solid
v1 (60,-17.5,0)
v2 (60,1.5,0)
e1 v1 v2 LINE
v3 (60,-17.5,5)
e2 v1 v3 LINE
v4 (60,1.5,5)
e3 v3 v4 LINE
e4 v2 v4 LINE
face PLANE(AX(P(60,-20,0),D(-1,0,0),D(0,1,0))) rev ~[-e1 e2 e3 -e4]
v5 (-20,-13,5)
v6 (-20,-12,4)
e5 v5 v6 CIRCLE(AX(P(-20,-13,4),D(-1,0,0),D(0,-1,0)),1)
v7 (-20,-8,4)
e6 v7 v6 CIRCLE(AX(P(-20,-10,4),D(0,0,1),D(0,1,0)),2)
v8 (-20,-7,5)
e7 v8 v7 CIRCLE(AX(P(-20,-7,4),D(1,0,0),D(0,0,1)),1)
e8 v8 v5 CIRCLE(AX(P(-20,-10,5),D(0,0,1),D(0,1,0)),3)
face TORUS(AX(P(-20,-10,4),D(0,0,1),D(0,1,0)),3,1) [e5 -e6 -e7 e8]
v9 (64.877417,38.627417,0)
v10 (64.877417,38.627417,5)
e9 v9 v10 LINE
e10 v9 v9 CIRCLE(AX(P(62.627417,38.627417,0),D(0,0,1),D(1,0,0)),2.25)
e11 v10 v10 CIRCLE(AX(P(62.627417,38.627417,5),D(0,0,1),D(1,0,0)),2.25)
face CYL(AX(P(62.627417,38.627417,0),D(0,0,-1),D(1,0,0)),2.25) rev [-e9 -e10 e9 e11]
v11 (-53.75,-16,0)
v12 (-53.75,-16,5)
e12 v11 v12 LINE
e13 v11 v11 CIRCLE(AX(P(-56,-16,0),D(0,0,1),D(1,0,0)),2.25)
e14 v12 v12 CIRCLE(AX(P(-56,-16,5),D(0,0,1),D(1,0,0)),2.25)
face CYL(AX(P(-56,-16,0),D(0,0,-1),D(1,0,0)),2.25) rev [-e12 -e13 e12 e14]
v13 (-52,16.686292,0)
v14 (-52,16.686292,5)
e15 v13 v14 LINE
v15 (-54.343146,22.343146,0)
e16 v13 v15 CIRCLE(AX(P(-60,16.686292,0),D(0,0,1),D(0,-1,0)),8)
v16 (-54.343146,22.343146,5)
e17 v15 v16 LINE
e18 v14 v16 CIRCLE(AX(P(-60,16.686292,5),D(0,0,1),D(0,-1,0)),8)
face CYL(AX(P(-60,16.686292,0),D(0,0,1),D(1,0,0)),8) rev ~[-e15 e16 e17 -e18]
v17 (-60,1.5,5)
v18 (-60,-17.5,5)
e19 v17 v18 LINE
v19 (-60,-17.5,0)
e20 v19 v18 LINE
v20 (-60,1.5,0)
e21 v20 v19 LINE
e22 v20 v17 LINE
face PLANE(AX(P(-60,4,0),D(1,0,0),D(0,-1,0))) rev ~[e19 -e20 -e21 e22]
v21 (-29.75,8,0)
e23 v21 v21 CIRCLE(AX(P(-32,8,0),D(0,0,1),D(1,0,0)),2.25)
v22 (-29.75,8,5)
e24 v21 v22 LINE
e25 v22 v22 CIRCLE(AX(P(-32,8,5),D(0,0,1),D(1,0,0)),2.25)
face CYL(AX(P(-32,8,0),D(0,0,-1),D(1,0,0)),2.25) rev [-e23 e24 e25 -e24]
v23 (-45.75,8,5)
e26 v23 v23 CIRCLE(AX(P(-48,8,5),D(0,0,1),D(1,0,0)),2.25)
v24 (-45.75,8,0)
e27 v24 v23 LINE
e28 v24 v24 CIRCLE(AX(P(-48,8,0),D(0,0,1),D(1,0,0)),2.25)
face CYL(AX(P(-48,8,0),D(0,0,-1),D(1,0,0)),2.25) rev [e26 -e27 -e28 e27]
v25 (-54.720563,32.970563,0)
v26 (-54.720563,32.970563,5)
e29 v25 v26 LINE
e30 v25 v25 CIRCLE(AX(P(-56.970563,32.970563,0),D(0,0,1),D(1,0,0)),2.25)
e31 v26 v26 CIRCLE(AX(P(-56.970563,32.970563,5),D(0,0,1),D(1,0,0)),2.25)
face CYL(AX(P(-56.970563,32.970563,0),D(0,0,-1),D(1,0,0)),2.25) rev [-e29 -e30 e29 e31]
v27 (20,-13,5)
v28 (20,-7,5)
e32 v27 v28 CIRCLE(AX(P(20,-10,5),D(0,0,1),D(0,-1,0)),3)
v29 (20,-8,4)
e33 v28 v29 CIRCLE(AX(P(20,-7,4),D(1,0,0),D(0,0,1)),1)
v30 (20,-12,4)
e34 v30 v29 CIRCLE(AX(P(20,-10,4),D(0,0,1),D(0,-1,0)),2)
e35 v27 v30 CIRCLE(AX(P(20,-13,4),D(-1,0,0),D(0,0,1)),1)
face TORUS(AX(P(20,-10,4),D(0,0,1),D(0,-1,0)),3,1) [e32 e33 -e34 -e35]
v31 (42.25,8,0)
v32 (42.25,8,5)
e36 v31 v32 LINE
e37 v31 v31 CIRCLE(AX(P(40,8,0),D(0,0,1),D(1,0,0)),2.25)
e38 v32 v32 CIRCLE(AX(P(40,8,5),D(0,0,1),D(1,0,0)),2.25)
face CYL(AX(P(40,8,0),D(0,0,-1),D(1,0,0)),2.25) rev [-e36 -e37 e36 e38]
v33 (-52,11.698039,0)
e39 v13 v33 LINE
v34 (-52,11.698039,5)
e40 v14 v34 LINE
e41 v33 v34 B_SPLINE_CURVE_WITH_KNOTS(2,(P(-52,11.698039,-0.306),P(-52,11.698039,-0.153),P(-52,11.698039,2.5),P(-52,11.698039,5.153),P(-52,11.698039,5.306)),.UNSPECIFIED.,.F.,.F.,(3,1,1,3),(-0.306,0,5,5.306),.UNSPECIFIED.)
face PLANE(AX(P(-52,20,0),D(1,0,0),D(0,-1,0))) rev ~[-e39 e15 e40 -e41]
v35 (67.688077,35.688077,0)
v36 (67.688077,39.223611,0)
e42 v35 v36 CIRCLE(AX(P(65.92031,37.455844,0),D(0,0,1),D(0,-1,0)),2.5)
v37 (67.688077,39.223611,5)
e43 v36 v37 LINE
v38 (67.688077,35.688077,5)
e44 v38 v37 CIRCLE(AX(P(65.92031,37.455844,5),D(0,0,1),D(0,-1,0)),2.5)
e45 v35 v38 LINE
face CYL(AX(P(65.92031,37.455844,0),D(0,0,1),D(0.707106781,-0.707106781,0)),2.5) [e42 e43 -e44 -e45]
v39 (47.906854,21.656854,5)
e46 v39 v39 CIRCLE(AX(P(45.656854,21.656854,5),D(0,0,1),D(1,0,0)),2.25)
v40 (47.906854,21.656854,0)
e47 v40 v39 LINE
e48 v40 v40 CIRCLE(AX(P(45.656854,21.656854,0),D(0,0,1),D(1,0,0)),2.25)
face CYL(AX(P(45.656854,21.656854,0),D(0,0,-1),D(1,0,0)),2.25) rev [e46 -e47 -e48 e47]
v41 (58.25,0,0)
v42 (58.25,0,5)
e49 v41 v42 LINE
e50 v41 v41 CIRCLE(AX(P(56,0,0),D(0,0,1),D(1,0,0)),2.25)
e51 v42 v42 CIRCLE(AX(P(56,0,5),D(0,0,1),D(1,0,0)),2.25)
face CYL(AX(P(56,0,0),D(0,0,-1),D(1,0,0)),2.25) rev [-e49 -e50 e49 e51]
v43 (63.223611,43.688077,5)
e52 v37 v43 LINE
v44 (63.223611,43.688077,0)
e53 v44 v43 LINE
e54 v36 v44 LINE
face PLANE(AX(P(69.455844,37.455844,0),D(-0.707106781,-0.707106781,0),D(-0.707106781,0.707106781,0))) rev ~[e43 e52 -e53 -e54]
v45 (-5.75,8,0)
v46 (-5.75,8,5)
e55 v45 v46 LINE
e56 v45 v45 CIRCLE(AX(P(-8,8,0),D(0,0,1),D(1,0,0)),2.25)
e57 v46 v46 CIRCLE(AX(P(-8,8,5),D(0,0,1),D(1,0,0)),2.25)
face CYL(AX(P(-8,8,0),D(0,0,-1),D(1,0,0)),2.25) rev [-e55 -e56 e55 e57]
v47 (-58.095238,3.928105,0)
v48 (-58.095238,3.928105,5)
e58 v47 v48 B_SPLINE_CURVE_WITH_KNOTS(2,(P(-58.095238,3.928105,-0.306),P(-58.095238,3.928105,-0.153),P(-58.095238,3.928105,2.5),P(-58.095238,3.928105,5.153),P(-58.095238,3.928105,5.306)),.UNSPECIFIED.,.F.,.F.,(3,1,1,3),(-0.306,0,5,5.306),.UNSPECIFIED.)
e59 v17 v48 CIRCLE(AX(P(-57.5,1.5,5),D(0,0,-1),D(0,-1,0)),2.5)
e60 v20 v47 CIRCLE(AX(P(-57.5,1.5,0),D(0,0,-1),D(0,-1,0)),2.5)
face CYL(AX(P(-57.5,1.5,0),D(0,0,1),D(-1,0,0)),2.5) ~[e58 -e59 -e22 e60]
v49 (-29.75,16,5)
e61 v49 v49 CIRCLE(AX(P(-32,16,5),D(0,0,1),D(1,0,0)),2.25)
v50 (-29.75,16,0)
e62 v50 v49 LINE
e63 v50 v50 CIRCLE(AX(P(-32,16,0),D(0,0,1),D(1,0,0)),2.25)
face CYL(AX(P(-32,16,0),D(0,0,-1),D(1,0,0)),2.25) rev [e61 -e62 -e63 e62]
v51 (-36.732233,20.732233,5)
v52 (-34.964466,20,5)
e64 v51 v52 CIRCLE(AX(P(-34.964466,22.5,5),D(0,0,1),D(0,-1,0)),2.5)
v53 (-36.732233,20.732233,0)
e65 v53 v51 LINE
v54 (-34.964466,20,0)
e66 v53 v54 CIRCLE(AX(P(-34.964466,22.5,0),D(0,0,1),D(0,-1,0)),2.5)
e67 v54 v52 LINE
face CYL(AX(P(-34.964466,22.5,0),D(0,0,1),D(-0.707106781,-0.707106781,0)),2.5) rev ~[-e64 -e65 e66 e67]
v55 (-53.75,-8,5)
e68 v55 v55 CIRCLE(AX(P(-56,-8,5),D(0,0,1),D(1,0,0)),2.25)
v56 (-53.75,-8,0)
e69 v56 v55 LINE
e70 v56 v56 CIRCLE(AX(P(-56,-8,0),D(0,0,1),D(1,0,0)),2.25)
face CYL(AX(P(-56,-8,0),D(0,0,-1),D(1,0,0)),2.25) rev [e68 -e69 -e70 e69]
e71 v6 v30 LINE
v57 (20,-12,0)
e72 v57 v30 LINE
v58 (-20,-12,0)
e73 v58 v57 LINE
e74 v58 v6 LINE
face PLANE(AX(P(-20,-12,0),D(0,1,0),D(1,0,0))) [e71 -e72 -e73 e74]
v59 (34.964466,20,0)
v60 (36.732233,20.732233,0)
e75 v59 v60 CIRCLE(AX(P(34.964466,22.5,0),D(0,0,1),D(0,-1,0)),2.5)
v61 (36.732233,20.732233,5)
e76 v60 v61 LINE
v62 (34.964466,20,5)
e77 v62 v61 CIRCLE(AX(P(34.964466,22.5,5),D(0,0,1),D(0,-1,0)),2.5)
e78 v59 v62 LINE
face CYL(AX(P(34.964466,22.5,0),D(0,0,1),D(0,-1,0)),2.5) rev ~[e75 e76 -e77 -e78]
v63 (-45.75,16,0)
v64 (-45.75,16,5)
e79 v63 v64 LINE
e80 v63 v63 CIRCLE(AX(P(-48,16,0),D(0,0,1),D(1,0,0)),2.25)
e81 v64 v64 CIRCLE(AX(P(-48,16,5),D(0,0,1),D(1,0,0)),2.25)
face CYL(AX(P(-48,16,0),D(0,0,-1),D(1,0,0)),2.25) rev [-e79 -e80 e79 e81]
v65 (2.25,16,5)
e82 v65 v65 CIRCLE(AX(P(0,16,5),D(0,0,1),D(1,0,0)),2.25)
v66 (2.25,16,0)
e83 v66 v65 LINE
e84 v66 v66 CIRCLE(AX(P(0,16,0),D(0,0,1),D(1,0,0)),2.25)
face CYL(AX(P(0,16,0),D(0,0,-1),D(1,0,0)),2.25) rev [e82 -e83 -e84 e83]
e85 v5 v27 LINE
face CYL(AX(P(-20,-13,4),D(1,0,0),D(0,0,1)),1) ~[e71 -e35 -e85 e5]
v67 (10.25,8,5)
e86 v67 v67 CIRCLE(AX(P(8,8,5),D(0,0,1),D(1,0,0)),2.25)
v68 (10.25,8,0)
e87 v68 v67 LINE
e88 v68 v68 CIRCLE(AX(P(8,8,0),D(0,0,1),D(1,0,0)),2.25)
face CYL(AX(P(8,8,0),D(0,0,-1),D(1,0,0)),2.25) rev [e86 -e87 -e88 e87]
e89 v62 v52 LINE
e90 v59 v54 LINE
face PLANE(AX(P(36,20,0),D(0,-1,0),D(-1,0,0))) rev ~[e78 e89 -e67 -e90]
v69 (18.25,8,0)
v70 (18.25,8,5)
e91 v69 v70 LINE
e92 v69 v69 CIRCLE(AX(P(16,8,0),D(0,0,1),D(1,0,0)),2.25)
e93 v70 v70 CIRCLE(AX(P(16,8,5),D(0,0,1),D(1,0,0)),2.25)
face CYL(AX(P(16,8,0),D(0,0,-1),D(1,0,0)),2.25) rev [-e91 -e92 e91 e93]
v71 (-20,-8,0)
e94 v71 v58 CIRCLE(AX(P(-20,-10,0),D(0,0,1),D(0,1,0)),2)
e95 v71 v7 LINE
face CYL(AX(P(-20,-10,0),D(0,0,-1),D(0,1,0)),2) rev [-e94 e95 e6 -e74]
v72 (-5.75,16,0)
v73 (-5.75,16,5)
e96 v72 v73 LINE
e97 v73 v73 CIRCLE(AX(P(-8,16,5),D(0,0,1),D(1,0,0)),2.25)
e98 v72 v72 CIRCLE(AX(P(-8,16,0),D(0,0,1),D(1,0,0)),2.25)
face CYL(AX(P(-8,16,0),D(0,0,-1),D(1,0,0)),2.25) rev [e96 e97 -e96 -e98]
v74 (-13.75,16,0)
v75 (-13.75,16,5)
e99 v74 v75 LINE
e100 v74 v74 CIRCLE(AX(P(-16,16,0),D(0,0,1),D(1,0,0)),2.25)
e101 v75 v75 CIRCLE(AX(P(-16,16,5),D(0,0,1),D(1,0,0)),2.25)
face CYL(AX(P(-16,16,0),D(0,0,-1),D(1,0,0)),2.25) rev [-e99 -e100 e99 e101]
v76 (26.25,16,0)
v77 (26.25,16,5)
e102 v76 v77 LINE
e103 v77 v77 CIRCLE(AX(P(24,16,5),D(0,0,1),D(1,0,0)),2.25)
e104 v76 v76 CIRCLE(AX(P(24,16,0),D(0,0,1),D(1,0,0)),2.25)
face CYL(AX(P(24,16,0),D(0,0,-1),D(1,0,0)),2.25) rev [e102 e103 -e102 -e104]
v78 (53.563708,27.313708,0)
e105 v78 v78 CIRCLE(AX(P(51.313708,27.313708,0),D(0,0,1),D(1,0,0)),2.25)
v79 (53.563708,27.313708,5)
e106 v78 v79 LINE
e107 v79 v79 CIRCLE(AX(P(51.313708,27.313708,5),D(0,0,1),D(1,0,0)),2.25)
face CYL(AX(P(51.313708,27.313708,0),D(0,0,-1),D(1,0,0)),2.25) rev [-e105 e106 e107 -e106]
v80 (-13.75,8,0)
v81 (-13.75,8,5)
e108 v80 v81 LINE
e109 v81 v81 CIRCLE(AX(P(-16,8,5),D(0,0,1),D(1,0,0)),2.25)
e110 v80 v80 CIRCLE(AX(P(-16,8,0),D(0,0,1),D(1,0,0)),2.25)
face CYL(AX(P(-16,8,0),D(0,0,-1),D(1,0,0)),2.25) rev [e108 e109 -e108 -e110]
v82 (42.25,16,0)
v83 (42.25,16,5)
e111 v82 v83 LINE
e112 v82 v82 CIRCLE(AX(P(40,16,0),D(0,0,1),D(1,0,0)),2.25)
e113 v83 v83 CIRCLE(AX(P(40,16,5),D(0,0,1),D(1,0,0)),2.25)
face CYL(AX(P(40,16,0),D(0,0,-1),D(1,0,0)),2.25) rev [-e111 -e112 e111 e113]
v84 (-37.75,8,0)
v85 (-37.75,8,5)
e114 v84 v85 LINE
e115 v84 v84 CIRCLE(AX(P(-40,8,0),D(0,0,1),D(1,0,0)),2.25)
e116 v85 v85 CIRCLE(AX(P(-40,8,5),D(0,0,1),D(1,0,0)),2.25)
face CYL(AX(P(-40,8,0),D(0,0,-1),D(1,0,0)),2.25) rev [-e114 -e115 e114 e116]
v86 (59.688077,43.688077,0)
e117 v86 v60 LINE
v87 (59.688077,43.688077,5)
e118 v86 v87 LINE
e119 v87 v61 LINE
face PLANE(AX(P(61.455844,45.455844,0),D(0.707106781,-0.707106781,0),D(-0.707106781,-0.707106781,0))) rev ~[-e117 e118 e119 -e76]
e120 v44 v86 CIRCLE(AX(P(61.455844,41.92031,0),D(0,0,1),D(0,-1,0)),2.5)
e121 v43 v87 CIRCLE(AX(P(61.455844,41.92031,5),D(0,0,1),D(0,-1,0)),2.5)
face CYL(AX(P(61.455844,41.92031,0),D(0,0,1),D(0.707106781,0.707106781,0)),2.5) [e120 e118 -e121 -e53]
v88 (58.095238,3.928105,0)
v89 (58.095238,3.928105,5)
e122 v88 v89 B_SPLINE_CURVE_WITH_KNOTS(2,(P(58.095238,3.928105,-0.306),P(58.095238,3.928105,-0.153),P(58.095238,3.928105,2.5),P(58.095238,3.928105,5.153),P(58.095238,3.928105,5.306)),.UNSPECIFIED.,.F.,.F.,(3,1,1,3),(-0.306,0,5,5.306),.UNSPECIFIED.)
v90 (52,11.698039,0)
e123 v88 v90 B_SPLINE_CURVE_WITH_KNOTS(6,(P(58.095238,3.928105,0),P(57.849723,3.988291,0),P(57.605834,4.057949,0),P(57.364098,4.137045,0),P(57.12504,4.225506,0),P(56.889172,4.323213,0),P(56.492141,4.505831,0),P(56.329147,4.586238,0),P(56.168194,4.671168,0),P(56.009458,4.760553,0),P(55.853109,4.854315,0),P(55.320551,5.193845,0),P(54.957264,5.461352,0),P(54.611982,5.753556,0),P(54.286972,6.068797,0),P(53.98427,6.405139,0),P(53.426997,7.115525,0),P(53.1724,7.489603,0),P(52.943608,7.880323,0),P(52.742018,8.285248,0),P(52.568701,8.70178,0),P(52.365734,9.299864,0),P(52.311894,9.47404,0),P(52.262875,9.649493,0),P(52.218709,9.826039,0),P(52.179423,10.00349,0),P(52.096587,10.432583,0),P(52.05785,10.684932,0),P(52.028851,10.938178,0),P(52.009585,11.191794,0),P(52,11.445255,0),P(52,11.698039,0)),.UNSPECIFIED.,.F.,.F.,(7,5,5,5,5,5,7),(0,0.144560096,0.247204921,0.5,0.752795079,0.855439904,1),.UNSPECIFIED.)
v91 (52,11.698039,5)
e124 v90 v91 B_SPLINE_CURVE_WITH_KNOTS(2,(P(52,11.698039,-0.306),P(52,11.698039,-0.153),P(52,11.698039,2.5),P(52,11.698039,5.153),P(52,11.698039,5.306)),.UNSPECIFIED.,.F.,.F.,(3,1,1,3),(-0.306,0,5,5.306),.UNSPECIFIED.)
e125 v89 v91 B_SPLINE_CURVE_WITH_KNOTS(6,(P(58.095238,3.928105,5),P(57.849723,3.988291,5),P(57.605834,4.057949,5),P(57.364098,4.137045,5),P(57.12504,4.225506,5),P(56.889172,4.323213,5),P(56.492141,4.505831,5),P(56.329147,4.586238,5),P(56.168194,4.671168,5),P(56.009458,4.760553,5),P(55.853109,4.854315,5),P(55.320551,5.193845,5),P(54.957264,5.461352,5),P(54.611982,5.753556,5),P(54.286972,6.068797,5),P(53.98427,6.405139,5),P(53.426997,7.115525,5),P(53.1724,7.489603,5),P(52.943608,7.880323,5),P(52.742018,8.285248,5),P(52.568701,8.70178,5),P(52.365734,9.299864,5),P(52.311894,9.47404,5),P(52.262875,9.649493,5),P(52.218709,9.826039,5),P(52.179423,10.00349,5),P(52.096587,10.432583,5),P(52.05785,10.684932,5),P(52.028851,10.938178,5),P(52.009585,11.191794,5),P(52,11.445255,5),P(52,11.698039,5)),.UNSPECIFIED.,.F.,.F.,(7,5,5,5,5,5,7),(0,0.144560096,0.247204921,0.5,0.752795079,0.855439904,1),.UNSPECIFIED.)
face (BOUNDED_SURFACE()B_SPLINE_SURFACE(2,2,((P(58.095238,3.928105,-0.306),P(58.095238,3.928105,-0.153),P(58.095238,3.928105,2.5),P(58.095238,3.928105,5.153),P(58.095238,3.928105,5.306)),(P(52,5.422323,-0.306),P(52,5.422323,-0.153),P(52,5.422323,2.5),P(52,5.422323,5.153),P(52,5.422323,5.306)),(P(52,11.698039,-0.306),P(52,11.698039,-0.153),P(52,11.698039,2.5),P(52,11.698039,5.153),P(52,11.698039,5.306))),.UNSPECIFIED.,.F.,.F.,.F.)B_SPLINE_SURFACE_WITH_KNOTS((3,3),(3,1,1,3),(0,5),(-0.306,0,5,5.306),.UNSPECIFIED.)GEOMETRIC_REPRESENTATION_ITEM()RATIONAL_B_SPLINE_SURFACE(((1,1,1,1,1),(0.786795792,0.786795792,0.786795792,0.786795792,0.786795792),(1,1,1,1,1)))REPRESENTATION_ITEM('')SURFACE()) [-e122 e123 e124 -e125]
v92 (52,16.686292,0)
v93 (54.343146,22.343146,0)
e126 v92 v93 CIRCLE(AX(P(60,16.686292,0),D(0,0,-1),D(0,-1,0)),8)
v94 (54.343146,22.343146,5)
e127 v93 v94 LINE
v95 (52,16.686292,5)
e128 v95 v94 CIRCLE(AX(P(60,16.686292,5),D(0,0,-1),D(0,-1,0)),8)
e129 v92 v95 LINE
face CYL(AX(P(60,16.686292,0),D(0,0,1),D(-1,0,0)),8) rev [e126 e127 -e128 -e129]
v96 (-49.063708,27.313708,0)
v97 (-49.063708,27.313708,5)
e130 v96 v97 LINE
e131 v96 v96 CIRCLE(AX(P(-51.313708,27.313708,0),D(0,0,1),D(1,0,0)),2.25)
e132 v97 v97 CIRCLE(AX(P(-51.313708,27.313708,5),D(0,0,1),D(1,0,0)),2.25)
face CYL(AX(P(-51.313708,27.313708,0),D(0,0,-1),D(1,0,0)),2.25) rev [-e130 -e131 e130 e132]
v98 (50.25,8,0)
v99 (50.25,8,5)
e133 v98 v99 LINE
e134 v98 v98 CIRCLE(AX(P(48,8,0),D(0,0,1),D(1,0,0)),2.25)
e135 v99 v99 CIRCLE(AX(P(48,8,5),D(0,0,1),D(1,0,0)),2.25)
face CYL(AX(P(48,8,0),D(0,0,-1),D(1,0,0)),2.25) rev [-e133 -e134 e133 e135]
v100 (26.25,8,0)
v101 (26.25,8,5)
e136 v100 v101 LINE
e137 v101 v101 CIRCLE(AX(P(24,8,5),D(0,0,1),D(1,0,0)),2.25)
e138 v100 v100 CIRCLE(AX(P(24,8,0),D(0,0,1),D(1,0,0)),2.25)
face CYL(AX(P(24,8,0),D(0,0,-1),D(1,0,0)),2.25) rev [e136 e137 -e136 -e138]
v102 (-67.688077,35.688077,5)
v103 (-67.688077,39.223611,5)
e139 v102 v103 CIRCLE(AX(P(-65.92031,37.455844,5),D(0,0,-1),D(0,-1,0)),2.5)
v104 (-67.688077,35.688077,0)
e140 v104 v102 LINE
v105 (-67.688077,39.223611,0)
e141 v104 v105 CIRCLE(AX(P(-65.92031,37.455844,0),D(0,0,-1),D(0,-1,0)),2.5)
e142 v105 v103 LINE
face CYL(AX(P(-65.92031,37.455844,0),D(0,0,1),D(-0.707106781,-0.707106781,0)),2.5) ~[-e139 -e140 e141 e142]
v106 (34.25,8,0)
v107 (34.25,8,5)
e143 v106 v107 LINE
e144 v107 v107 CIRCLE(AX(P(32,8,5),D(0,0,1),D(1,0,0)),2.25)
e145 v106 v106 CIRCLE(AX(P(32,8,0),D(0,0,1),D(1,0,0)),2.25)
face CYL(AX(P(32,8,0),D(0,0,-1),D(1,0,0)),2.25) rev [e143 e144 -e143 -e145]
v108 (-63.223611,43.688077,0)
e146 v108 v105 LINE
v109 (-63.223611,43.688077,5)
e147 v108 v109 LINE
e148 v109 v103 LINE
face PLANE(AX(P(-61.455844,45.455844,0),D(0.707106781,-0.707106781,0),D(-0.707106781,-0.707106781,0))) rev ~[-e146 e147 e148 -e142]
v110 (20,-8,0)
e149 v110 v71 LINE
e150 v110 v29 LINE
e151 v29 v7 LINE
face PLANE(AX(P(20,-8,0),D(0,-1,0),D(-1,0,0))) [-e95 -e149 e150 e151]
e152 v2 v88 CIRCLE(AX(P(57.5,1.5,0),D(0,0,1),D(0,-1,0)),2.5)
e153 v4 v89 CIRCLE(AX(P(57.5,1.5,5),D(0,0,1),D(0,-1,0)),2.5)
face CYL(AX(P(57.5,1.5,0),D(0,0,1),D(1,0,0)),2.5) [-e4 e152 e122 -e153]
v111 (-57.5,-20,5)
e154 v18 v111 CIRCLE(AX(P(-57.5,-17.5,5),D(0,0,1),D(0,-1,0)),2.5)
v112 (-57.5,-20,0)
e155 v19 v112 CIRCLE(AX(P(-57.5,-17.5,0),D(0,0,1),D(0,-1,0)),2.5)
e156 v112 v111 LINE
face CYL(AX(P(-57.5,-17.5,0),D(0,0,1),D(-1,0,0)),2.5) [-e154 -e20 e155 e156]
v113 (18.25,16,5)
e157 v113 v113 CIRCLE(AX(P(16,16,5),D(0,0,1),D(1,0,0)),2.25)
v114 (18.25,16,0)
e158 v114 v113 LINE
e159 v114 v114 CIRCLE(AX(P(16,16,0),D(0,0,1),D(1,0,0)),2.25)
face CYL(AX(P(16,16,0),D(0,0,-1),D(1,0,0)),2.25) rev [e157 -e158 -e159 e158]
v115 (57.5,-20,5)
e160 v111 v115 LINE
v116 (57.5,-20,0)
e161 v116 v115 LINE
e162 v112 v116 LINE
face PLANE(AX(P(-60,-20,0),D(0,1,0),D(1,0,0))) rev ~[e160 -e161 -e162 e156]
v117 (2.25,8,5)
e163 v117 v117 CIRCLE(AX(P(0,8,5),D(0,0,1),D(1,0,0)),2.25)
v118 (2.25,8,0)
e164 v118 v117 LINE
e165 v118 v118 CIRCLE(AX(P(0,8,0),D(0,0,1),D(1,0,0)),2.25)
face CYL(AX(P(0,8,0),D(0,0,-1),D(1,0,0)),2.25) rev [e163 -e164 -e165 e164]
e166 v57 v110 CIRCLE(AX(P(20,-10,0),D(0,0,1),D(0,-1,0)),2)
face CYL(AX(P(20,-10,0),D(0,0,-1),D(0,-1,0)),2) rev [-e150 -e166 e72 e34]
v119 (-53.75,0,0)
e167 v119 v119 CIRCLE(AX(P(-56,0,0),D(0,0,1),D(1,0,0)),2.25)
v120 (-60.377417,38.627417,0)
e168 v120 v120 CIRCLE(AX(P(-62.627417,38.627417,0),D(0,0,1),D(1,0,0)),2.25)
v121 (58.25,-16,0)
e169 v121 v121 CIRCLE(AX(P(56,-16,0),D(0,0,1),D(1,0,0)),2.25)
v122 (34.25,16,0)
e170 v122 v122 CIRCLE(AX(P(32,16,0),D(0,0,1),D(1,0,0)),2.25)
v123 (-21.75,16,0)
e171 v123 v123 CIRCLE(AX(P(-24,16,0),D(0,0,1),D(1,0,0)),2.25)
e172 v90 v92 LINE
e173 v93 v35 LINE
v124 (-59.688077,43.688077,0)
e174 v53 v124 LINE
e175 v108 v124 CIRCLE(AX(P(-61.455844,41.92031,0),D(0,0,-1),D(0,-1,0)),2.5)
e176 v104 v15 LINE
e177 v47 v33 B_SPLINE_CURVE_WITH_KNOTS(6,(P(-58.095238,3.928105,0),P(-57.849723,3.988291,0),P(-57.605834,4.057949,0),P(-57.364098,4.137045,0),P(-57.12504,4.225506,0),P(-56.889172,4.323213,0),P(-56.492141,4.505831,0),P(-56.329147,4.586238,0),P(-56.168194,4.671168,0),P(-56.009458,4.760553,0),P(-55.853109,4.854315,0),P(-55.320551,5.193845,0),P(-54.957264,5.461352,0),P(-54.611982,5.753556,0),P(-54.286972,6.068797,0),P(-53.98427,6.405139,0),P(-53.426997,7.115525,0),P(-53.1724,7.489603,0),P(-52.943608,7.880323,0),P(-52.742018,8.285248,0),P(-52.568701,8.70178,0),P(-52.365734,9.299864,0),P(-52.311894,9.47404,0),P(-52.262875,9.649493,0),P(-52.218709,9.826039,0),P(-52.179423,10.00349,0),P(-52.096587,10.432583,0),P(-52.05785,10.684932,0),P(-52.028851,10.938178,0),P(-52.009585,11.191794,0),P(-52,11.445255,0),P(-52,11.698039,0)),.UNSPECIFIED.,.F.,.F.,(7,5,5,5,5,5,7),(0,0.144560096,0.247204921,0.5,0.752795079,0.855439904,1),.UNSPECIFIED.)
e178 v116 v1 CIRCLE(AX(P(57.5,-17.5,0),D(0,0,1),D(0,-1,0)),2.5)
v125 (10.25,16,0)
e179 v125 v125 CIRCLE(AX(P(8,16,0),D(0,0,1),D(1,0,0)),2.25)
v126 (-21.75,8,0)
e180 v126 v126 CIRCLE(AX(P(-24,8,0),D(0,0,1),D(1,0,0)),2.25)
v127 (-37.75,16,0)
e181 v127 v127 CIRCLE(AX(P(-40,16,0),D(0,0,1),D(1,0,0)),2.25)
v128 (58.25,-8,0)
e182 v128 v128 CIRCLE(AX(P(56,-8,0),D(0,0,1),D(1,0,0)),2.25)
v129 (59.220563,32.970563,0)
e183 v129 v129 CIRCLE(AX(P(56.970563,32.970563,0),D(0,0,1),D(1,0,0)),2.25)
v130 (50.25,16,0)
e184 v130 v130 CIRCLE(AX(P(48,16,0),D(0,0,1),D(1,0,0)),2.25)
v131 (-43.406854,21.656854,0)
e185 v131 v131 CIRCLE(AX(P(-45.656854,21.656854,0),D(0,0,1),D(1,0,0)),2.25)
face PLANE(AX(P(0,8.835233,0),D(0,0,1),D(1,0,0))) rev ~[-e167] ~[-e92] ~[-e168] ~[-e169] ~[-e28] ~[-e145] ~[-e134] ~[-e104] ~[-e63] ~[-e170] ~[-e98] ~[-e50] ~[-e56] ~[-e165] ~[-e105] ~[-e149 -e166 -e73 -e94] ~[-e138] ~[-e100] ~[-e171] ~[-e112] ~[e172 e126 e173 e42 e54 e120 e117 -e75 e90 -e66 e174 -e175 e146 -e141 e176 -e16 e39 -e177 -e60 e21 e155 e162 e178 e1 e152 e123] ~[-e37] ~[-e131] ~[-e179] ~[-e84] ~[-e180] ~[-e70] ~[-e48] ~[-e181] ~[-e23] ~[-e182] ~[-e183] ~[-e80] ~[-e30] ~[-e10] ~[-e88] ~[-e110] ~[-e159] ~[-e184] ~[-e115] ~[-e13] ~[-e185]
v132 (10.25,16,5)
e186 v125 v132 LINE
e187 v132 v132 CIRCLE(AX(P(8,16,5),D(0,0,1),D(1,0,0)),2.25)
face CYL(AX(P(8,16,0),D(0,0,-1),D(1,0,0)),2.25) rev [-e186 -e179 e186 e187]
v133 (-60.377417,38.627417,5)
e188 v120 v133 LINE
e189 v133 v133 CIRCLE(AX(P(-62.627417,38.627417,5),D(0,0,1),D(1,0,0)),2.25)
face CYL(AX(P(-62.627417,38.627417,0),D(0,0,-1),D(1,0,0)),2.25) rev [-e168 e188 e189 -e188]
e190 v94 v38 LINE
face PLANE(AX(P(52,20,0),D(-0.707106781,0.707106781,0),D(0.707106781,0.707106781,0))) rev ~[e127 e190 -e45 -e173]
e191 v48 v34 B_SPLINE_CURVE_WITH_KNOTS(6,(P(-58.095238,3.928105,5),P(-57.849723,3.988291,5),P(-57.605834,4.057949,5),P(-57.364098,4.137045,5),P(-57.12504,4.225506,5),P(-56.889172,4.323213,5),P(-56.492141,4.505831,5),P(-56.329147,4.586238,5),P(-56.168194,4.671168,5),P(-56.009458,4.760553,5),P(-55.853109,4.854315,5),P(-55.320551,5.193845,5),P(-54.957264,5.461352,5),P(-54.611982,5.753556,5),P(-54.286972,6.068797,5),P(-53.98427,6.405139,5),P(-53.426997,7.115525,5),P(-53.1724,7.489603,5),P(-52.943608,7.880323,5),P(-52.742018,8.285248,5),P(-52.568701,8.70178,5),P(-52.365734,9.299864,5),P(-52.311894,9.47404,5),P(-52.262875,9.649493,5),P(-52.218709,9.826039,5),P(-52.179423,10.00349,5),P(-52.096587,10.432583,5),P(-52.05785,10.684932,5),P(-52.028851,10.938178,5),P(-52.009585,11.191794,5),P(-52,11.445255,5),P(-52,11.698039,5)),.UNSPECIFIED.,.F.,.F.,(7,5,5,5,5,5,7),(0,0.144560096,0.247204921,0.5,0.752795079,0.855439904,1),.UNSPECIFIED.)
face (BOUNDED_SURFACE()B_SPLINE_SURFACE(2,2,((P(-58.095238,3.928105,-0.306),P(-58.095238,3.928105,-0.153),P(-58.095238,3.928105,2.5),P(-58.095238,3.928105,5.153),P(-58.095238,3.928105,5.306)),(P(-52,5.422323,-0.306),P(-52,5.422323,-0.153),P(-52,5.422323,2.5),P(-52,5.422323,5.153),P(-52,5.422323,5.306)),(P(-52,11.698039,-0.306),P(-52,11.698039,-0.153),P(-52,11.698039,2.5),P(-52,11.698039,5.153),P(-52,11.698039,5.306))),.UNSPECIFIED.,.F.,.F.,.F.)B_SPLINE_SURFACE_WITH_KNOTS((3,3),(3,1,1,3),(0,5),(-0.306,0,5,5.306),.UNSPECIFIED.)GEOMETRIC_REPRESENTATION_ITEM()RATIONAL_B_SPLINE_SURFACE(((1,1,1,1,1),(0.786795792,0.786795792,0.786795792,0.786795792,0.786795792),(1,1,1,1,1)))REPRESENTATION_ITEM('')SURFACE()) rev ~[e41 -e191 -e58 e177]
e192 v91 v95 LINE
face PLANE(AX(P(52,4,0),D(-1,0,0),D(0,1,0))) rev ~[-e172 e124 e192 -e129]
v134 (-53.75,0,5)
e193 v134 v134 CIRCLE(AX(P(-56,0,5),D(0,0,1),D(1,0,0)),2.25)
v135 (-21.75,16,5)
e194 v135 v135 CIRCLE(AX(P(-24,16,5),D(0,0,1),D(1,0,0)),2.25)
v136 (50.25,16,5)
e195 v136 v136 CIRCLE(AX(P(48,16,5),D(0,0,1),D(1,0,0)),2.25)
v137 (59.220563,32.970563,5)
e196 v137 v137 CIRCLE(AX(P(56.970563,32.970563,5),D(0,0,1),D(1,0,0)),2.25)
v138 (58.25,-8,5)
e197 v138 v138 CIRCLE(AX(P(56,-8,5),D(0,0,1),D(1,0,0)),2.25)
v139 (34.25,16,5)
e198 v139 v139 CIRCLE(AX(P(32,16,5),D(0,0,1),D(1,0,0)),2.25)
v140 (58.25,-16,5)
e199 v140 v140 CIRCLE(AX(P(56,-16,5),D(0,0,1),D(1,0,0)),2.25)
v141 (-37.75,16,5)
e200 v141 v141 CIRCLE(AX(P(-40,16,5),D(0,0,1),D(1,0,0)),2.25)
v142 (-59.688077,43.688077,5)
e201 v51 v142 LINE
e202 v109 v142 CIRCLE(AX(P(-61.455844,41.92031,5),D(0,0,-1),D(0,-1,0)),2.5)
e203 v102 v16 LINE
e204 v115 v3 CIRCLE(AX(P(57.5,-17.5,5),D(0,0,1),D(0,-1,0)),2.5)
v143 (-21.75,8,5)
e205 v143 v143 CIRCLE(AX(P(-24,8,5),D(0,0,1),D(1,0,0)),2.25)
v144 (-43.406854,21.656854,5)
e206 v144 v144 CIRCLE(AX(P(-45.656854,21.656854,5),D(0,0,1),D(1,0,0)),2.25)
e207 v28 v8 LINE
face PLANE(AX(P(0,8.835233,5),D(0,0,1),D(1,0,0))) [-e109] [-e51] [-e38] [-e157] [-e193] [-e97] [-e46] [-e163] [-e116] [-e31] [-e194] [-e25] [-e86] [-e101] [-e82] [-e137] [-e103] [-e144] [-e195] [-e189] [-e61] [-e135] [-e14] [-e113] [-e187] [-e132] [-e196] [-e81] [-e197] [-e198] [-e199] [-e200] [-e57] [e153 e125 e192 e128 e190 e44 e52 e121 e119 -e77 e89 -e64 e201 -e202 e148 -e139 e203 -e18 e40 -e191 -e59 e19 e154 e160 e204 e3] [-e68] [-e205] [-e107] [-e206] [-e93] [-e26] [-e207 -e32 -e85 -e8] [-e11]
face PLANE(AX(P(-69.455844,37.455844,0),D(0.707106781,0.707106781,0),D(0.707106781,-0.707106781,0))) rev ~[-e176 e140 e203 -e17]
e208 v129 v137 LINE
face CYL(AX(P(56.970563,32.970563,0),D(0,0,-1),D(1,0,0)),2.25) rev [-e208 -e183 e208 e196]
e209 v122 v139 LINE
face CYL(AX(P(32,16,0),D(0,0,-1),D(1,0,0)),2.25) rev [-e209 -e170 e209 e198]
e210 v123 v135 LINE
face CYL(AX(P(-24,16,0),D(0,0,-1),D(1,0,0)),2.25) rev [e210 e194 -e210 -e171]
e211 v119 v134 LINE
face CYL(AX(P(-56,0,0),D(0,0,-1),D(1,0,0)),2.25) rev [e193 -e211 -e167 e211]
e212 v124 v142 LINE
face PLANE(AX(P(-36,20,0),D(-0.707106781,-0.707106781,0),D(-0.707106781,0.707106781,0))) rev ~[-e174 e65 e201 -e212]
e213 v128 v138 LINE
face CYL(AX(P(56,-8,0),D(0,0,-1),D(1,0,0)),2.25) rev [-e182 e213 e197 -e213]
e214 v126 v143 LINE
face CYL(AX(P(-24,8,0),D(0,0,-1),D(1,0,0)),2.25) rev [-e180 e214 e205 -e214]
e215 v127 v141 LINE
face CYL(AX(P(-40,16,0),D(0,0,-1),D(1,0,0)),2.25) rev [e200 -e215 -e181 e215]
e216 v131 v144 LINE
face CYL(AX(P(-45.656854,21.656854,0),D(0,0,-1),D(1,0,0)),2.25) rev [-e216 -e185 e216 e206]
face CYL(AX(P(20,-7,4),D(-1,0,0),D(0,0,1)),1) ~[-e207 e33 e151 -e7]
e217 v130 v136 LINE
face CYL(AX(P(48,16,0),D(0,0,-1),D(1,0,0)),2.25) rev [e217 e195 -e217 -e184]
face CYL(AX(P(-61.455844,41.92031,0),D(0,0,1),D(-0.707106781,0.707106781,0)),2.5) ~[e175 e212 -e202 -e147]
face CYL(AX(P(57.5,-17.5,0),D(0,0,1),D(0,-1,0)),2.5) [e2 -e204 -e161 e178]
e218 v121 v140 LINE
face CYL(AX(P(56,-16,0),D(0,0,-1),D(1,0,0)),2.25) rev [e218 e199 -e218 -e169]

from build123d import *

# Parameters (mm, degrees)
SKETCH_1_R      = 2.25
EXTRUDE_1_DEPTH = 5
FILLET_1_R      = 2.5
FILLET_2_R      = 1
FILLET_3_R      = 8


with BuildPart() as part:
    # 草图1 → 凸台-拉伸1 (new body)
    with BuildSketch(Plane.XY):
        Polygon((-60, 4), (-60, -20), (60, -20), (60, 4), (52, 4), (52, 20), (69.455844123, 37.455844123), (61.455844123, 45.455844123), (36, 20), (-36, 20), (-61.455844123, 45.455844123), (-69.455844123, 37.455844123), (-52, 20), (-52, 4), align=None)
        with Locations((-56, -16)):
            Circle(SKETCH_1_R, mode=Mode.SUBTRACT)
        with Locations((-56, -8)):
            Circle(SKETCH_1_R, mode=Mode.SUBTRACT)
        with Locations((-56, 0)):
            Circle(SKETCH_1_R, mode=Mode.SUBTRACT)
        with Locations((56, 0)):
            Circle(SKETCH_1_R, mode=Mode.SUBTRACT)
        with Locations((56, -16)):
            Circle(SKETCH_1_R, mode=Mode.SUBTRACT)
        with Locations((56, -8)):
            Circle(SKETCH_1_R, mode=Mode.SUBTRACT)
        with Locations((-48, 16)):
            Circle(SKETCH_1_R, mode=Mode.SUBTRACT)
        with Locations((-48, 8)):
            Circle(SKETCH_1_R, mode=Mode.SUBTRACT)
        with Locations((-40, 16)):
            Circle(SKETCH_1_R, mode=Mode.SUBTRACT)
        with Locations((-40, 8)):
            Circle(SKETCH_1_R, mode=Mode.SUBTRACT)
        with Locations((-32, 16)):
            Circle(SKETCH_1_R, mode=Mode.SUBTRACT)
        with Locations((-32, 8)):
            Circle(SKETCH_1_R, mode=Mode.SUBTRACT)
        with Locations((-24, 16)):
            Circle(SKETCH_1_R, mode=Mode.SUBTRACT)
        with Locations((-24, 8)):
            Circle(SKETCH_1_R, mode=Mode.SUBTRACT)
        with Locations((-16, 16)):
            Circle(SKETCH_1_R, mode=Mode.SUBTRACT)
        with Locations((-16, 8)):
            Circle(SKETCH_1_R, mode=Mode.SUBTRACT)
        with Locations((-8, 16)):
            Circle(SKETCH_1_R, mode=Mode.SUBTRACT)
        with Locations((-8, 8)):
            Circle(SKETCH_1_R, mode=Mode.SUBTRACT)
        with Locations((0, 16)):
            Circle(SKETCH_1_R, mode=Mode.SUBTRACT)
        with Locations((0, 8)):
            Circle(SKETCH_1_R, mode=Mode.SUBTRACT)
        with Locations((8, 16)):
            Circle(SKETCH_1_R, mode=Mode.SUBTRACT)
        with Locations((8, 8)):
            Circle(SKETCH_1_R, mode=Mode.SUBTRACT)
        with Locations((16, 16)):
            Circle(SKETCH_1_R, mode=Mode.SUBTRACT)
        with Locations((16, 8)):
            Circle(SKETCH_1_R, mode=Mode.SUBTRACT)
        with Locations((24, 16)):
            Circle(SKETCH_1_R, mode=Mode.SUBTRACT)
        with Locations((24, 8)):
            Circle(SKETCH_1_R, mode=Mode.SUBTRACT)
        with Locations((32, 16)):
            Circle(SKETCH_1_R, mode=Mode.SUBTRACT)
        with Locations((32, 8)):
            Circle(SKETCH_1_R, mode=Mode.SUBTRACT)
        with Locations((40, 16)):
            Circle(SKETCH_1_R, mode=Mode.SUBTRACT)
        with Locations((40, 8)):
            Circle(SKETCH_1_R, mode=Mode.SUBTRACT)
        with Locations((48, 16)):
            Circle(SKETCH_1_R, mode=Mode.SUBTRACT)
        with Locations((48, 8)):
            Circle(SKETCH_1_R, mode=Mode.SUBTRACT)
        with Locations((-45.656854249, 21.656854249)):
            Circle(SKETCH_1_R, mode=Mode.SUBTRACT)
        with Locations((-51.313708499, 27.313708499)):
            Circle(SKETCH_1_R, mode=Mode.SUBTRACT)
        with Locations((-56.970562748, 32.970562748)):
            Circle(SKETCH_1_R, mode=Mode.SUBTRACT)
        with Locations((-62.627416998, 38.627416998)):
            Circle(SKETCH_1_R, mode=Mode.SUBTRACT)
        with Locations((45.656854249, 21.656854249)):
            Circle(SKETCH_1_R, mode=Mode.SUBTRACT)
        with Locations((51.313708499, 27.313708499)):
            Circle(SKETCH_1_R, mode=Mode.SUBTRACT)
        with Locations((56.970562748, 32.970562748)):
            Circle(SKETCH_1_R, mode=Mode.SUBTRACT)
        with Locations((62.627416998, 38.627416998)):
            Circle(SKETCH_1_R, mode=Mode.SUBTRACT)
        with BuildLine():
            Line((20, -8), (-20, -8))
            ThreePointArc((-20, -8), (-22, -10), (-20, -12))
            Line((-20, -12), (20, -12))
            ThreePointArc((20, -12), (22, -10), (20, -8))
        make_face(mode=Mode.SUBTRACT)
    extrude(amount=EXTRUDE_1_DEPTH)

    # 圆角1
    fillet_1_edges = [part.edges().sort_by_distance(p)[0] for p in [
        (60, 4, 2.5),
        (60, -20, 2.5),
        (-60, -20, 2.5),
        (-60, 4, 2.5),
        (-69.455844123, 37.455844123, 2.5),
        (-61.455844123, 45.455844123, 2.5),
        (-36, 20, 2.5),
        (36, 20, 2.5),
        (61.455844123, 45.455844123, 2.5),
        (69.455844123, 37.455844123, 2.5),
    ]]
    fillet(fillet_1_edges, radius=FILLET_1_R)

    # 圆角2
    fillet_2_edges = [part.edges().sort_by_distance(p)[0] for p in [
        (0, -8, 5),
        (22, -10, 5),
        (0, -12, 5),
        (-22, -10, 5),
    ]]
    fillet(fillet_2_edges, radius=FILLET_2_R)

    # 圆角3
    fillet_3_edges = [part.edges().sort_by_distance(p)[0] for p in [
        (-52, 4, 2.5),
        (-52, 20, 2.5),
        (52, 4, 2.5),
        (52, 20, 2.5),
    ]]
    fillet(fillet_3_edges, radius=FILLET_3_R)


solid = part.part
